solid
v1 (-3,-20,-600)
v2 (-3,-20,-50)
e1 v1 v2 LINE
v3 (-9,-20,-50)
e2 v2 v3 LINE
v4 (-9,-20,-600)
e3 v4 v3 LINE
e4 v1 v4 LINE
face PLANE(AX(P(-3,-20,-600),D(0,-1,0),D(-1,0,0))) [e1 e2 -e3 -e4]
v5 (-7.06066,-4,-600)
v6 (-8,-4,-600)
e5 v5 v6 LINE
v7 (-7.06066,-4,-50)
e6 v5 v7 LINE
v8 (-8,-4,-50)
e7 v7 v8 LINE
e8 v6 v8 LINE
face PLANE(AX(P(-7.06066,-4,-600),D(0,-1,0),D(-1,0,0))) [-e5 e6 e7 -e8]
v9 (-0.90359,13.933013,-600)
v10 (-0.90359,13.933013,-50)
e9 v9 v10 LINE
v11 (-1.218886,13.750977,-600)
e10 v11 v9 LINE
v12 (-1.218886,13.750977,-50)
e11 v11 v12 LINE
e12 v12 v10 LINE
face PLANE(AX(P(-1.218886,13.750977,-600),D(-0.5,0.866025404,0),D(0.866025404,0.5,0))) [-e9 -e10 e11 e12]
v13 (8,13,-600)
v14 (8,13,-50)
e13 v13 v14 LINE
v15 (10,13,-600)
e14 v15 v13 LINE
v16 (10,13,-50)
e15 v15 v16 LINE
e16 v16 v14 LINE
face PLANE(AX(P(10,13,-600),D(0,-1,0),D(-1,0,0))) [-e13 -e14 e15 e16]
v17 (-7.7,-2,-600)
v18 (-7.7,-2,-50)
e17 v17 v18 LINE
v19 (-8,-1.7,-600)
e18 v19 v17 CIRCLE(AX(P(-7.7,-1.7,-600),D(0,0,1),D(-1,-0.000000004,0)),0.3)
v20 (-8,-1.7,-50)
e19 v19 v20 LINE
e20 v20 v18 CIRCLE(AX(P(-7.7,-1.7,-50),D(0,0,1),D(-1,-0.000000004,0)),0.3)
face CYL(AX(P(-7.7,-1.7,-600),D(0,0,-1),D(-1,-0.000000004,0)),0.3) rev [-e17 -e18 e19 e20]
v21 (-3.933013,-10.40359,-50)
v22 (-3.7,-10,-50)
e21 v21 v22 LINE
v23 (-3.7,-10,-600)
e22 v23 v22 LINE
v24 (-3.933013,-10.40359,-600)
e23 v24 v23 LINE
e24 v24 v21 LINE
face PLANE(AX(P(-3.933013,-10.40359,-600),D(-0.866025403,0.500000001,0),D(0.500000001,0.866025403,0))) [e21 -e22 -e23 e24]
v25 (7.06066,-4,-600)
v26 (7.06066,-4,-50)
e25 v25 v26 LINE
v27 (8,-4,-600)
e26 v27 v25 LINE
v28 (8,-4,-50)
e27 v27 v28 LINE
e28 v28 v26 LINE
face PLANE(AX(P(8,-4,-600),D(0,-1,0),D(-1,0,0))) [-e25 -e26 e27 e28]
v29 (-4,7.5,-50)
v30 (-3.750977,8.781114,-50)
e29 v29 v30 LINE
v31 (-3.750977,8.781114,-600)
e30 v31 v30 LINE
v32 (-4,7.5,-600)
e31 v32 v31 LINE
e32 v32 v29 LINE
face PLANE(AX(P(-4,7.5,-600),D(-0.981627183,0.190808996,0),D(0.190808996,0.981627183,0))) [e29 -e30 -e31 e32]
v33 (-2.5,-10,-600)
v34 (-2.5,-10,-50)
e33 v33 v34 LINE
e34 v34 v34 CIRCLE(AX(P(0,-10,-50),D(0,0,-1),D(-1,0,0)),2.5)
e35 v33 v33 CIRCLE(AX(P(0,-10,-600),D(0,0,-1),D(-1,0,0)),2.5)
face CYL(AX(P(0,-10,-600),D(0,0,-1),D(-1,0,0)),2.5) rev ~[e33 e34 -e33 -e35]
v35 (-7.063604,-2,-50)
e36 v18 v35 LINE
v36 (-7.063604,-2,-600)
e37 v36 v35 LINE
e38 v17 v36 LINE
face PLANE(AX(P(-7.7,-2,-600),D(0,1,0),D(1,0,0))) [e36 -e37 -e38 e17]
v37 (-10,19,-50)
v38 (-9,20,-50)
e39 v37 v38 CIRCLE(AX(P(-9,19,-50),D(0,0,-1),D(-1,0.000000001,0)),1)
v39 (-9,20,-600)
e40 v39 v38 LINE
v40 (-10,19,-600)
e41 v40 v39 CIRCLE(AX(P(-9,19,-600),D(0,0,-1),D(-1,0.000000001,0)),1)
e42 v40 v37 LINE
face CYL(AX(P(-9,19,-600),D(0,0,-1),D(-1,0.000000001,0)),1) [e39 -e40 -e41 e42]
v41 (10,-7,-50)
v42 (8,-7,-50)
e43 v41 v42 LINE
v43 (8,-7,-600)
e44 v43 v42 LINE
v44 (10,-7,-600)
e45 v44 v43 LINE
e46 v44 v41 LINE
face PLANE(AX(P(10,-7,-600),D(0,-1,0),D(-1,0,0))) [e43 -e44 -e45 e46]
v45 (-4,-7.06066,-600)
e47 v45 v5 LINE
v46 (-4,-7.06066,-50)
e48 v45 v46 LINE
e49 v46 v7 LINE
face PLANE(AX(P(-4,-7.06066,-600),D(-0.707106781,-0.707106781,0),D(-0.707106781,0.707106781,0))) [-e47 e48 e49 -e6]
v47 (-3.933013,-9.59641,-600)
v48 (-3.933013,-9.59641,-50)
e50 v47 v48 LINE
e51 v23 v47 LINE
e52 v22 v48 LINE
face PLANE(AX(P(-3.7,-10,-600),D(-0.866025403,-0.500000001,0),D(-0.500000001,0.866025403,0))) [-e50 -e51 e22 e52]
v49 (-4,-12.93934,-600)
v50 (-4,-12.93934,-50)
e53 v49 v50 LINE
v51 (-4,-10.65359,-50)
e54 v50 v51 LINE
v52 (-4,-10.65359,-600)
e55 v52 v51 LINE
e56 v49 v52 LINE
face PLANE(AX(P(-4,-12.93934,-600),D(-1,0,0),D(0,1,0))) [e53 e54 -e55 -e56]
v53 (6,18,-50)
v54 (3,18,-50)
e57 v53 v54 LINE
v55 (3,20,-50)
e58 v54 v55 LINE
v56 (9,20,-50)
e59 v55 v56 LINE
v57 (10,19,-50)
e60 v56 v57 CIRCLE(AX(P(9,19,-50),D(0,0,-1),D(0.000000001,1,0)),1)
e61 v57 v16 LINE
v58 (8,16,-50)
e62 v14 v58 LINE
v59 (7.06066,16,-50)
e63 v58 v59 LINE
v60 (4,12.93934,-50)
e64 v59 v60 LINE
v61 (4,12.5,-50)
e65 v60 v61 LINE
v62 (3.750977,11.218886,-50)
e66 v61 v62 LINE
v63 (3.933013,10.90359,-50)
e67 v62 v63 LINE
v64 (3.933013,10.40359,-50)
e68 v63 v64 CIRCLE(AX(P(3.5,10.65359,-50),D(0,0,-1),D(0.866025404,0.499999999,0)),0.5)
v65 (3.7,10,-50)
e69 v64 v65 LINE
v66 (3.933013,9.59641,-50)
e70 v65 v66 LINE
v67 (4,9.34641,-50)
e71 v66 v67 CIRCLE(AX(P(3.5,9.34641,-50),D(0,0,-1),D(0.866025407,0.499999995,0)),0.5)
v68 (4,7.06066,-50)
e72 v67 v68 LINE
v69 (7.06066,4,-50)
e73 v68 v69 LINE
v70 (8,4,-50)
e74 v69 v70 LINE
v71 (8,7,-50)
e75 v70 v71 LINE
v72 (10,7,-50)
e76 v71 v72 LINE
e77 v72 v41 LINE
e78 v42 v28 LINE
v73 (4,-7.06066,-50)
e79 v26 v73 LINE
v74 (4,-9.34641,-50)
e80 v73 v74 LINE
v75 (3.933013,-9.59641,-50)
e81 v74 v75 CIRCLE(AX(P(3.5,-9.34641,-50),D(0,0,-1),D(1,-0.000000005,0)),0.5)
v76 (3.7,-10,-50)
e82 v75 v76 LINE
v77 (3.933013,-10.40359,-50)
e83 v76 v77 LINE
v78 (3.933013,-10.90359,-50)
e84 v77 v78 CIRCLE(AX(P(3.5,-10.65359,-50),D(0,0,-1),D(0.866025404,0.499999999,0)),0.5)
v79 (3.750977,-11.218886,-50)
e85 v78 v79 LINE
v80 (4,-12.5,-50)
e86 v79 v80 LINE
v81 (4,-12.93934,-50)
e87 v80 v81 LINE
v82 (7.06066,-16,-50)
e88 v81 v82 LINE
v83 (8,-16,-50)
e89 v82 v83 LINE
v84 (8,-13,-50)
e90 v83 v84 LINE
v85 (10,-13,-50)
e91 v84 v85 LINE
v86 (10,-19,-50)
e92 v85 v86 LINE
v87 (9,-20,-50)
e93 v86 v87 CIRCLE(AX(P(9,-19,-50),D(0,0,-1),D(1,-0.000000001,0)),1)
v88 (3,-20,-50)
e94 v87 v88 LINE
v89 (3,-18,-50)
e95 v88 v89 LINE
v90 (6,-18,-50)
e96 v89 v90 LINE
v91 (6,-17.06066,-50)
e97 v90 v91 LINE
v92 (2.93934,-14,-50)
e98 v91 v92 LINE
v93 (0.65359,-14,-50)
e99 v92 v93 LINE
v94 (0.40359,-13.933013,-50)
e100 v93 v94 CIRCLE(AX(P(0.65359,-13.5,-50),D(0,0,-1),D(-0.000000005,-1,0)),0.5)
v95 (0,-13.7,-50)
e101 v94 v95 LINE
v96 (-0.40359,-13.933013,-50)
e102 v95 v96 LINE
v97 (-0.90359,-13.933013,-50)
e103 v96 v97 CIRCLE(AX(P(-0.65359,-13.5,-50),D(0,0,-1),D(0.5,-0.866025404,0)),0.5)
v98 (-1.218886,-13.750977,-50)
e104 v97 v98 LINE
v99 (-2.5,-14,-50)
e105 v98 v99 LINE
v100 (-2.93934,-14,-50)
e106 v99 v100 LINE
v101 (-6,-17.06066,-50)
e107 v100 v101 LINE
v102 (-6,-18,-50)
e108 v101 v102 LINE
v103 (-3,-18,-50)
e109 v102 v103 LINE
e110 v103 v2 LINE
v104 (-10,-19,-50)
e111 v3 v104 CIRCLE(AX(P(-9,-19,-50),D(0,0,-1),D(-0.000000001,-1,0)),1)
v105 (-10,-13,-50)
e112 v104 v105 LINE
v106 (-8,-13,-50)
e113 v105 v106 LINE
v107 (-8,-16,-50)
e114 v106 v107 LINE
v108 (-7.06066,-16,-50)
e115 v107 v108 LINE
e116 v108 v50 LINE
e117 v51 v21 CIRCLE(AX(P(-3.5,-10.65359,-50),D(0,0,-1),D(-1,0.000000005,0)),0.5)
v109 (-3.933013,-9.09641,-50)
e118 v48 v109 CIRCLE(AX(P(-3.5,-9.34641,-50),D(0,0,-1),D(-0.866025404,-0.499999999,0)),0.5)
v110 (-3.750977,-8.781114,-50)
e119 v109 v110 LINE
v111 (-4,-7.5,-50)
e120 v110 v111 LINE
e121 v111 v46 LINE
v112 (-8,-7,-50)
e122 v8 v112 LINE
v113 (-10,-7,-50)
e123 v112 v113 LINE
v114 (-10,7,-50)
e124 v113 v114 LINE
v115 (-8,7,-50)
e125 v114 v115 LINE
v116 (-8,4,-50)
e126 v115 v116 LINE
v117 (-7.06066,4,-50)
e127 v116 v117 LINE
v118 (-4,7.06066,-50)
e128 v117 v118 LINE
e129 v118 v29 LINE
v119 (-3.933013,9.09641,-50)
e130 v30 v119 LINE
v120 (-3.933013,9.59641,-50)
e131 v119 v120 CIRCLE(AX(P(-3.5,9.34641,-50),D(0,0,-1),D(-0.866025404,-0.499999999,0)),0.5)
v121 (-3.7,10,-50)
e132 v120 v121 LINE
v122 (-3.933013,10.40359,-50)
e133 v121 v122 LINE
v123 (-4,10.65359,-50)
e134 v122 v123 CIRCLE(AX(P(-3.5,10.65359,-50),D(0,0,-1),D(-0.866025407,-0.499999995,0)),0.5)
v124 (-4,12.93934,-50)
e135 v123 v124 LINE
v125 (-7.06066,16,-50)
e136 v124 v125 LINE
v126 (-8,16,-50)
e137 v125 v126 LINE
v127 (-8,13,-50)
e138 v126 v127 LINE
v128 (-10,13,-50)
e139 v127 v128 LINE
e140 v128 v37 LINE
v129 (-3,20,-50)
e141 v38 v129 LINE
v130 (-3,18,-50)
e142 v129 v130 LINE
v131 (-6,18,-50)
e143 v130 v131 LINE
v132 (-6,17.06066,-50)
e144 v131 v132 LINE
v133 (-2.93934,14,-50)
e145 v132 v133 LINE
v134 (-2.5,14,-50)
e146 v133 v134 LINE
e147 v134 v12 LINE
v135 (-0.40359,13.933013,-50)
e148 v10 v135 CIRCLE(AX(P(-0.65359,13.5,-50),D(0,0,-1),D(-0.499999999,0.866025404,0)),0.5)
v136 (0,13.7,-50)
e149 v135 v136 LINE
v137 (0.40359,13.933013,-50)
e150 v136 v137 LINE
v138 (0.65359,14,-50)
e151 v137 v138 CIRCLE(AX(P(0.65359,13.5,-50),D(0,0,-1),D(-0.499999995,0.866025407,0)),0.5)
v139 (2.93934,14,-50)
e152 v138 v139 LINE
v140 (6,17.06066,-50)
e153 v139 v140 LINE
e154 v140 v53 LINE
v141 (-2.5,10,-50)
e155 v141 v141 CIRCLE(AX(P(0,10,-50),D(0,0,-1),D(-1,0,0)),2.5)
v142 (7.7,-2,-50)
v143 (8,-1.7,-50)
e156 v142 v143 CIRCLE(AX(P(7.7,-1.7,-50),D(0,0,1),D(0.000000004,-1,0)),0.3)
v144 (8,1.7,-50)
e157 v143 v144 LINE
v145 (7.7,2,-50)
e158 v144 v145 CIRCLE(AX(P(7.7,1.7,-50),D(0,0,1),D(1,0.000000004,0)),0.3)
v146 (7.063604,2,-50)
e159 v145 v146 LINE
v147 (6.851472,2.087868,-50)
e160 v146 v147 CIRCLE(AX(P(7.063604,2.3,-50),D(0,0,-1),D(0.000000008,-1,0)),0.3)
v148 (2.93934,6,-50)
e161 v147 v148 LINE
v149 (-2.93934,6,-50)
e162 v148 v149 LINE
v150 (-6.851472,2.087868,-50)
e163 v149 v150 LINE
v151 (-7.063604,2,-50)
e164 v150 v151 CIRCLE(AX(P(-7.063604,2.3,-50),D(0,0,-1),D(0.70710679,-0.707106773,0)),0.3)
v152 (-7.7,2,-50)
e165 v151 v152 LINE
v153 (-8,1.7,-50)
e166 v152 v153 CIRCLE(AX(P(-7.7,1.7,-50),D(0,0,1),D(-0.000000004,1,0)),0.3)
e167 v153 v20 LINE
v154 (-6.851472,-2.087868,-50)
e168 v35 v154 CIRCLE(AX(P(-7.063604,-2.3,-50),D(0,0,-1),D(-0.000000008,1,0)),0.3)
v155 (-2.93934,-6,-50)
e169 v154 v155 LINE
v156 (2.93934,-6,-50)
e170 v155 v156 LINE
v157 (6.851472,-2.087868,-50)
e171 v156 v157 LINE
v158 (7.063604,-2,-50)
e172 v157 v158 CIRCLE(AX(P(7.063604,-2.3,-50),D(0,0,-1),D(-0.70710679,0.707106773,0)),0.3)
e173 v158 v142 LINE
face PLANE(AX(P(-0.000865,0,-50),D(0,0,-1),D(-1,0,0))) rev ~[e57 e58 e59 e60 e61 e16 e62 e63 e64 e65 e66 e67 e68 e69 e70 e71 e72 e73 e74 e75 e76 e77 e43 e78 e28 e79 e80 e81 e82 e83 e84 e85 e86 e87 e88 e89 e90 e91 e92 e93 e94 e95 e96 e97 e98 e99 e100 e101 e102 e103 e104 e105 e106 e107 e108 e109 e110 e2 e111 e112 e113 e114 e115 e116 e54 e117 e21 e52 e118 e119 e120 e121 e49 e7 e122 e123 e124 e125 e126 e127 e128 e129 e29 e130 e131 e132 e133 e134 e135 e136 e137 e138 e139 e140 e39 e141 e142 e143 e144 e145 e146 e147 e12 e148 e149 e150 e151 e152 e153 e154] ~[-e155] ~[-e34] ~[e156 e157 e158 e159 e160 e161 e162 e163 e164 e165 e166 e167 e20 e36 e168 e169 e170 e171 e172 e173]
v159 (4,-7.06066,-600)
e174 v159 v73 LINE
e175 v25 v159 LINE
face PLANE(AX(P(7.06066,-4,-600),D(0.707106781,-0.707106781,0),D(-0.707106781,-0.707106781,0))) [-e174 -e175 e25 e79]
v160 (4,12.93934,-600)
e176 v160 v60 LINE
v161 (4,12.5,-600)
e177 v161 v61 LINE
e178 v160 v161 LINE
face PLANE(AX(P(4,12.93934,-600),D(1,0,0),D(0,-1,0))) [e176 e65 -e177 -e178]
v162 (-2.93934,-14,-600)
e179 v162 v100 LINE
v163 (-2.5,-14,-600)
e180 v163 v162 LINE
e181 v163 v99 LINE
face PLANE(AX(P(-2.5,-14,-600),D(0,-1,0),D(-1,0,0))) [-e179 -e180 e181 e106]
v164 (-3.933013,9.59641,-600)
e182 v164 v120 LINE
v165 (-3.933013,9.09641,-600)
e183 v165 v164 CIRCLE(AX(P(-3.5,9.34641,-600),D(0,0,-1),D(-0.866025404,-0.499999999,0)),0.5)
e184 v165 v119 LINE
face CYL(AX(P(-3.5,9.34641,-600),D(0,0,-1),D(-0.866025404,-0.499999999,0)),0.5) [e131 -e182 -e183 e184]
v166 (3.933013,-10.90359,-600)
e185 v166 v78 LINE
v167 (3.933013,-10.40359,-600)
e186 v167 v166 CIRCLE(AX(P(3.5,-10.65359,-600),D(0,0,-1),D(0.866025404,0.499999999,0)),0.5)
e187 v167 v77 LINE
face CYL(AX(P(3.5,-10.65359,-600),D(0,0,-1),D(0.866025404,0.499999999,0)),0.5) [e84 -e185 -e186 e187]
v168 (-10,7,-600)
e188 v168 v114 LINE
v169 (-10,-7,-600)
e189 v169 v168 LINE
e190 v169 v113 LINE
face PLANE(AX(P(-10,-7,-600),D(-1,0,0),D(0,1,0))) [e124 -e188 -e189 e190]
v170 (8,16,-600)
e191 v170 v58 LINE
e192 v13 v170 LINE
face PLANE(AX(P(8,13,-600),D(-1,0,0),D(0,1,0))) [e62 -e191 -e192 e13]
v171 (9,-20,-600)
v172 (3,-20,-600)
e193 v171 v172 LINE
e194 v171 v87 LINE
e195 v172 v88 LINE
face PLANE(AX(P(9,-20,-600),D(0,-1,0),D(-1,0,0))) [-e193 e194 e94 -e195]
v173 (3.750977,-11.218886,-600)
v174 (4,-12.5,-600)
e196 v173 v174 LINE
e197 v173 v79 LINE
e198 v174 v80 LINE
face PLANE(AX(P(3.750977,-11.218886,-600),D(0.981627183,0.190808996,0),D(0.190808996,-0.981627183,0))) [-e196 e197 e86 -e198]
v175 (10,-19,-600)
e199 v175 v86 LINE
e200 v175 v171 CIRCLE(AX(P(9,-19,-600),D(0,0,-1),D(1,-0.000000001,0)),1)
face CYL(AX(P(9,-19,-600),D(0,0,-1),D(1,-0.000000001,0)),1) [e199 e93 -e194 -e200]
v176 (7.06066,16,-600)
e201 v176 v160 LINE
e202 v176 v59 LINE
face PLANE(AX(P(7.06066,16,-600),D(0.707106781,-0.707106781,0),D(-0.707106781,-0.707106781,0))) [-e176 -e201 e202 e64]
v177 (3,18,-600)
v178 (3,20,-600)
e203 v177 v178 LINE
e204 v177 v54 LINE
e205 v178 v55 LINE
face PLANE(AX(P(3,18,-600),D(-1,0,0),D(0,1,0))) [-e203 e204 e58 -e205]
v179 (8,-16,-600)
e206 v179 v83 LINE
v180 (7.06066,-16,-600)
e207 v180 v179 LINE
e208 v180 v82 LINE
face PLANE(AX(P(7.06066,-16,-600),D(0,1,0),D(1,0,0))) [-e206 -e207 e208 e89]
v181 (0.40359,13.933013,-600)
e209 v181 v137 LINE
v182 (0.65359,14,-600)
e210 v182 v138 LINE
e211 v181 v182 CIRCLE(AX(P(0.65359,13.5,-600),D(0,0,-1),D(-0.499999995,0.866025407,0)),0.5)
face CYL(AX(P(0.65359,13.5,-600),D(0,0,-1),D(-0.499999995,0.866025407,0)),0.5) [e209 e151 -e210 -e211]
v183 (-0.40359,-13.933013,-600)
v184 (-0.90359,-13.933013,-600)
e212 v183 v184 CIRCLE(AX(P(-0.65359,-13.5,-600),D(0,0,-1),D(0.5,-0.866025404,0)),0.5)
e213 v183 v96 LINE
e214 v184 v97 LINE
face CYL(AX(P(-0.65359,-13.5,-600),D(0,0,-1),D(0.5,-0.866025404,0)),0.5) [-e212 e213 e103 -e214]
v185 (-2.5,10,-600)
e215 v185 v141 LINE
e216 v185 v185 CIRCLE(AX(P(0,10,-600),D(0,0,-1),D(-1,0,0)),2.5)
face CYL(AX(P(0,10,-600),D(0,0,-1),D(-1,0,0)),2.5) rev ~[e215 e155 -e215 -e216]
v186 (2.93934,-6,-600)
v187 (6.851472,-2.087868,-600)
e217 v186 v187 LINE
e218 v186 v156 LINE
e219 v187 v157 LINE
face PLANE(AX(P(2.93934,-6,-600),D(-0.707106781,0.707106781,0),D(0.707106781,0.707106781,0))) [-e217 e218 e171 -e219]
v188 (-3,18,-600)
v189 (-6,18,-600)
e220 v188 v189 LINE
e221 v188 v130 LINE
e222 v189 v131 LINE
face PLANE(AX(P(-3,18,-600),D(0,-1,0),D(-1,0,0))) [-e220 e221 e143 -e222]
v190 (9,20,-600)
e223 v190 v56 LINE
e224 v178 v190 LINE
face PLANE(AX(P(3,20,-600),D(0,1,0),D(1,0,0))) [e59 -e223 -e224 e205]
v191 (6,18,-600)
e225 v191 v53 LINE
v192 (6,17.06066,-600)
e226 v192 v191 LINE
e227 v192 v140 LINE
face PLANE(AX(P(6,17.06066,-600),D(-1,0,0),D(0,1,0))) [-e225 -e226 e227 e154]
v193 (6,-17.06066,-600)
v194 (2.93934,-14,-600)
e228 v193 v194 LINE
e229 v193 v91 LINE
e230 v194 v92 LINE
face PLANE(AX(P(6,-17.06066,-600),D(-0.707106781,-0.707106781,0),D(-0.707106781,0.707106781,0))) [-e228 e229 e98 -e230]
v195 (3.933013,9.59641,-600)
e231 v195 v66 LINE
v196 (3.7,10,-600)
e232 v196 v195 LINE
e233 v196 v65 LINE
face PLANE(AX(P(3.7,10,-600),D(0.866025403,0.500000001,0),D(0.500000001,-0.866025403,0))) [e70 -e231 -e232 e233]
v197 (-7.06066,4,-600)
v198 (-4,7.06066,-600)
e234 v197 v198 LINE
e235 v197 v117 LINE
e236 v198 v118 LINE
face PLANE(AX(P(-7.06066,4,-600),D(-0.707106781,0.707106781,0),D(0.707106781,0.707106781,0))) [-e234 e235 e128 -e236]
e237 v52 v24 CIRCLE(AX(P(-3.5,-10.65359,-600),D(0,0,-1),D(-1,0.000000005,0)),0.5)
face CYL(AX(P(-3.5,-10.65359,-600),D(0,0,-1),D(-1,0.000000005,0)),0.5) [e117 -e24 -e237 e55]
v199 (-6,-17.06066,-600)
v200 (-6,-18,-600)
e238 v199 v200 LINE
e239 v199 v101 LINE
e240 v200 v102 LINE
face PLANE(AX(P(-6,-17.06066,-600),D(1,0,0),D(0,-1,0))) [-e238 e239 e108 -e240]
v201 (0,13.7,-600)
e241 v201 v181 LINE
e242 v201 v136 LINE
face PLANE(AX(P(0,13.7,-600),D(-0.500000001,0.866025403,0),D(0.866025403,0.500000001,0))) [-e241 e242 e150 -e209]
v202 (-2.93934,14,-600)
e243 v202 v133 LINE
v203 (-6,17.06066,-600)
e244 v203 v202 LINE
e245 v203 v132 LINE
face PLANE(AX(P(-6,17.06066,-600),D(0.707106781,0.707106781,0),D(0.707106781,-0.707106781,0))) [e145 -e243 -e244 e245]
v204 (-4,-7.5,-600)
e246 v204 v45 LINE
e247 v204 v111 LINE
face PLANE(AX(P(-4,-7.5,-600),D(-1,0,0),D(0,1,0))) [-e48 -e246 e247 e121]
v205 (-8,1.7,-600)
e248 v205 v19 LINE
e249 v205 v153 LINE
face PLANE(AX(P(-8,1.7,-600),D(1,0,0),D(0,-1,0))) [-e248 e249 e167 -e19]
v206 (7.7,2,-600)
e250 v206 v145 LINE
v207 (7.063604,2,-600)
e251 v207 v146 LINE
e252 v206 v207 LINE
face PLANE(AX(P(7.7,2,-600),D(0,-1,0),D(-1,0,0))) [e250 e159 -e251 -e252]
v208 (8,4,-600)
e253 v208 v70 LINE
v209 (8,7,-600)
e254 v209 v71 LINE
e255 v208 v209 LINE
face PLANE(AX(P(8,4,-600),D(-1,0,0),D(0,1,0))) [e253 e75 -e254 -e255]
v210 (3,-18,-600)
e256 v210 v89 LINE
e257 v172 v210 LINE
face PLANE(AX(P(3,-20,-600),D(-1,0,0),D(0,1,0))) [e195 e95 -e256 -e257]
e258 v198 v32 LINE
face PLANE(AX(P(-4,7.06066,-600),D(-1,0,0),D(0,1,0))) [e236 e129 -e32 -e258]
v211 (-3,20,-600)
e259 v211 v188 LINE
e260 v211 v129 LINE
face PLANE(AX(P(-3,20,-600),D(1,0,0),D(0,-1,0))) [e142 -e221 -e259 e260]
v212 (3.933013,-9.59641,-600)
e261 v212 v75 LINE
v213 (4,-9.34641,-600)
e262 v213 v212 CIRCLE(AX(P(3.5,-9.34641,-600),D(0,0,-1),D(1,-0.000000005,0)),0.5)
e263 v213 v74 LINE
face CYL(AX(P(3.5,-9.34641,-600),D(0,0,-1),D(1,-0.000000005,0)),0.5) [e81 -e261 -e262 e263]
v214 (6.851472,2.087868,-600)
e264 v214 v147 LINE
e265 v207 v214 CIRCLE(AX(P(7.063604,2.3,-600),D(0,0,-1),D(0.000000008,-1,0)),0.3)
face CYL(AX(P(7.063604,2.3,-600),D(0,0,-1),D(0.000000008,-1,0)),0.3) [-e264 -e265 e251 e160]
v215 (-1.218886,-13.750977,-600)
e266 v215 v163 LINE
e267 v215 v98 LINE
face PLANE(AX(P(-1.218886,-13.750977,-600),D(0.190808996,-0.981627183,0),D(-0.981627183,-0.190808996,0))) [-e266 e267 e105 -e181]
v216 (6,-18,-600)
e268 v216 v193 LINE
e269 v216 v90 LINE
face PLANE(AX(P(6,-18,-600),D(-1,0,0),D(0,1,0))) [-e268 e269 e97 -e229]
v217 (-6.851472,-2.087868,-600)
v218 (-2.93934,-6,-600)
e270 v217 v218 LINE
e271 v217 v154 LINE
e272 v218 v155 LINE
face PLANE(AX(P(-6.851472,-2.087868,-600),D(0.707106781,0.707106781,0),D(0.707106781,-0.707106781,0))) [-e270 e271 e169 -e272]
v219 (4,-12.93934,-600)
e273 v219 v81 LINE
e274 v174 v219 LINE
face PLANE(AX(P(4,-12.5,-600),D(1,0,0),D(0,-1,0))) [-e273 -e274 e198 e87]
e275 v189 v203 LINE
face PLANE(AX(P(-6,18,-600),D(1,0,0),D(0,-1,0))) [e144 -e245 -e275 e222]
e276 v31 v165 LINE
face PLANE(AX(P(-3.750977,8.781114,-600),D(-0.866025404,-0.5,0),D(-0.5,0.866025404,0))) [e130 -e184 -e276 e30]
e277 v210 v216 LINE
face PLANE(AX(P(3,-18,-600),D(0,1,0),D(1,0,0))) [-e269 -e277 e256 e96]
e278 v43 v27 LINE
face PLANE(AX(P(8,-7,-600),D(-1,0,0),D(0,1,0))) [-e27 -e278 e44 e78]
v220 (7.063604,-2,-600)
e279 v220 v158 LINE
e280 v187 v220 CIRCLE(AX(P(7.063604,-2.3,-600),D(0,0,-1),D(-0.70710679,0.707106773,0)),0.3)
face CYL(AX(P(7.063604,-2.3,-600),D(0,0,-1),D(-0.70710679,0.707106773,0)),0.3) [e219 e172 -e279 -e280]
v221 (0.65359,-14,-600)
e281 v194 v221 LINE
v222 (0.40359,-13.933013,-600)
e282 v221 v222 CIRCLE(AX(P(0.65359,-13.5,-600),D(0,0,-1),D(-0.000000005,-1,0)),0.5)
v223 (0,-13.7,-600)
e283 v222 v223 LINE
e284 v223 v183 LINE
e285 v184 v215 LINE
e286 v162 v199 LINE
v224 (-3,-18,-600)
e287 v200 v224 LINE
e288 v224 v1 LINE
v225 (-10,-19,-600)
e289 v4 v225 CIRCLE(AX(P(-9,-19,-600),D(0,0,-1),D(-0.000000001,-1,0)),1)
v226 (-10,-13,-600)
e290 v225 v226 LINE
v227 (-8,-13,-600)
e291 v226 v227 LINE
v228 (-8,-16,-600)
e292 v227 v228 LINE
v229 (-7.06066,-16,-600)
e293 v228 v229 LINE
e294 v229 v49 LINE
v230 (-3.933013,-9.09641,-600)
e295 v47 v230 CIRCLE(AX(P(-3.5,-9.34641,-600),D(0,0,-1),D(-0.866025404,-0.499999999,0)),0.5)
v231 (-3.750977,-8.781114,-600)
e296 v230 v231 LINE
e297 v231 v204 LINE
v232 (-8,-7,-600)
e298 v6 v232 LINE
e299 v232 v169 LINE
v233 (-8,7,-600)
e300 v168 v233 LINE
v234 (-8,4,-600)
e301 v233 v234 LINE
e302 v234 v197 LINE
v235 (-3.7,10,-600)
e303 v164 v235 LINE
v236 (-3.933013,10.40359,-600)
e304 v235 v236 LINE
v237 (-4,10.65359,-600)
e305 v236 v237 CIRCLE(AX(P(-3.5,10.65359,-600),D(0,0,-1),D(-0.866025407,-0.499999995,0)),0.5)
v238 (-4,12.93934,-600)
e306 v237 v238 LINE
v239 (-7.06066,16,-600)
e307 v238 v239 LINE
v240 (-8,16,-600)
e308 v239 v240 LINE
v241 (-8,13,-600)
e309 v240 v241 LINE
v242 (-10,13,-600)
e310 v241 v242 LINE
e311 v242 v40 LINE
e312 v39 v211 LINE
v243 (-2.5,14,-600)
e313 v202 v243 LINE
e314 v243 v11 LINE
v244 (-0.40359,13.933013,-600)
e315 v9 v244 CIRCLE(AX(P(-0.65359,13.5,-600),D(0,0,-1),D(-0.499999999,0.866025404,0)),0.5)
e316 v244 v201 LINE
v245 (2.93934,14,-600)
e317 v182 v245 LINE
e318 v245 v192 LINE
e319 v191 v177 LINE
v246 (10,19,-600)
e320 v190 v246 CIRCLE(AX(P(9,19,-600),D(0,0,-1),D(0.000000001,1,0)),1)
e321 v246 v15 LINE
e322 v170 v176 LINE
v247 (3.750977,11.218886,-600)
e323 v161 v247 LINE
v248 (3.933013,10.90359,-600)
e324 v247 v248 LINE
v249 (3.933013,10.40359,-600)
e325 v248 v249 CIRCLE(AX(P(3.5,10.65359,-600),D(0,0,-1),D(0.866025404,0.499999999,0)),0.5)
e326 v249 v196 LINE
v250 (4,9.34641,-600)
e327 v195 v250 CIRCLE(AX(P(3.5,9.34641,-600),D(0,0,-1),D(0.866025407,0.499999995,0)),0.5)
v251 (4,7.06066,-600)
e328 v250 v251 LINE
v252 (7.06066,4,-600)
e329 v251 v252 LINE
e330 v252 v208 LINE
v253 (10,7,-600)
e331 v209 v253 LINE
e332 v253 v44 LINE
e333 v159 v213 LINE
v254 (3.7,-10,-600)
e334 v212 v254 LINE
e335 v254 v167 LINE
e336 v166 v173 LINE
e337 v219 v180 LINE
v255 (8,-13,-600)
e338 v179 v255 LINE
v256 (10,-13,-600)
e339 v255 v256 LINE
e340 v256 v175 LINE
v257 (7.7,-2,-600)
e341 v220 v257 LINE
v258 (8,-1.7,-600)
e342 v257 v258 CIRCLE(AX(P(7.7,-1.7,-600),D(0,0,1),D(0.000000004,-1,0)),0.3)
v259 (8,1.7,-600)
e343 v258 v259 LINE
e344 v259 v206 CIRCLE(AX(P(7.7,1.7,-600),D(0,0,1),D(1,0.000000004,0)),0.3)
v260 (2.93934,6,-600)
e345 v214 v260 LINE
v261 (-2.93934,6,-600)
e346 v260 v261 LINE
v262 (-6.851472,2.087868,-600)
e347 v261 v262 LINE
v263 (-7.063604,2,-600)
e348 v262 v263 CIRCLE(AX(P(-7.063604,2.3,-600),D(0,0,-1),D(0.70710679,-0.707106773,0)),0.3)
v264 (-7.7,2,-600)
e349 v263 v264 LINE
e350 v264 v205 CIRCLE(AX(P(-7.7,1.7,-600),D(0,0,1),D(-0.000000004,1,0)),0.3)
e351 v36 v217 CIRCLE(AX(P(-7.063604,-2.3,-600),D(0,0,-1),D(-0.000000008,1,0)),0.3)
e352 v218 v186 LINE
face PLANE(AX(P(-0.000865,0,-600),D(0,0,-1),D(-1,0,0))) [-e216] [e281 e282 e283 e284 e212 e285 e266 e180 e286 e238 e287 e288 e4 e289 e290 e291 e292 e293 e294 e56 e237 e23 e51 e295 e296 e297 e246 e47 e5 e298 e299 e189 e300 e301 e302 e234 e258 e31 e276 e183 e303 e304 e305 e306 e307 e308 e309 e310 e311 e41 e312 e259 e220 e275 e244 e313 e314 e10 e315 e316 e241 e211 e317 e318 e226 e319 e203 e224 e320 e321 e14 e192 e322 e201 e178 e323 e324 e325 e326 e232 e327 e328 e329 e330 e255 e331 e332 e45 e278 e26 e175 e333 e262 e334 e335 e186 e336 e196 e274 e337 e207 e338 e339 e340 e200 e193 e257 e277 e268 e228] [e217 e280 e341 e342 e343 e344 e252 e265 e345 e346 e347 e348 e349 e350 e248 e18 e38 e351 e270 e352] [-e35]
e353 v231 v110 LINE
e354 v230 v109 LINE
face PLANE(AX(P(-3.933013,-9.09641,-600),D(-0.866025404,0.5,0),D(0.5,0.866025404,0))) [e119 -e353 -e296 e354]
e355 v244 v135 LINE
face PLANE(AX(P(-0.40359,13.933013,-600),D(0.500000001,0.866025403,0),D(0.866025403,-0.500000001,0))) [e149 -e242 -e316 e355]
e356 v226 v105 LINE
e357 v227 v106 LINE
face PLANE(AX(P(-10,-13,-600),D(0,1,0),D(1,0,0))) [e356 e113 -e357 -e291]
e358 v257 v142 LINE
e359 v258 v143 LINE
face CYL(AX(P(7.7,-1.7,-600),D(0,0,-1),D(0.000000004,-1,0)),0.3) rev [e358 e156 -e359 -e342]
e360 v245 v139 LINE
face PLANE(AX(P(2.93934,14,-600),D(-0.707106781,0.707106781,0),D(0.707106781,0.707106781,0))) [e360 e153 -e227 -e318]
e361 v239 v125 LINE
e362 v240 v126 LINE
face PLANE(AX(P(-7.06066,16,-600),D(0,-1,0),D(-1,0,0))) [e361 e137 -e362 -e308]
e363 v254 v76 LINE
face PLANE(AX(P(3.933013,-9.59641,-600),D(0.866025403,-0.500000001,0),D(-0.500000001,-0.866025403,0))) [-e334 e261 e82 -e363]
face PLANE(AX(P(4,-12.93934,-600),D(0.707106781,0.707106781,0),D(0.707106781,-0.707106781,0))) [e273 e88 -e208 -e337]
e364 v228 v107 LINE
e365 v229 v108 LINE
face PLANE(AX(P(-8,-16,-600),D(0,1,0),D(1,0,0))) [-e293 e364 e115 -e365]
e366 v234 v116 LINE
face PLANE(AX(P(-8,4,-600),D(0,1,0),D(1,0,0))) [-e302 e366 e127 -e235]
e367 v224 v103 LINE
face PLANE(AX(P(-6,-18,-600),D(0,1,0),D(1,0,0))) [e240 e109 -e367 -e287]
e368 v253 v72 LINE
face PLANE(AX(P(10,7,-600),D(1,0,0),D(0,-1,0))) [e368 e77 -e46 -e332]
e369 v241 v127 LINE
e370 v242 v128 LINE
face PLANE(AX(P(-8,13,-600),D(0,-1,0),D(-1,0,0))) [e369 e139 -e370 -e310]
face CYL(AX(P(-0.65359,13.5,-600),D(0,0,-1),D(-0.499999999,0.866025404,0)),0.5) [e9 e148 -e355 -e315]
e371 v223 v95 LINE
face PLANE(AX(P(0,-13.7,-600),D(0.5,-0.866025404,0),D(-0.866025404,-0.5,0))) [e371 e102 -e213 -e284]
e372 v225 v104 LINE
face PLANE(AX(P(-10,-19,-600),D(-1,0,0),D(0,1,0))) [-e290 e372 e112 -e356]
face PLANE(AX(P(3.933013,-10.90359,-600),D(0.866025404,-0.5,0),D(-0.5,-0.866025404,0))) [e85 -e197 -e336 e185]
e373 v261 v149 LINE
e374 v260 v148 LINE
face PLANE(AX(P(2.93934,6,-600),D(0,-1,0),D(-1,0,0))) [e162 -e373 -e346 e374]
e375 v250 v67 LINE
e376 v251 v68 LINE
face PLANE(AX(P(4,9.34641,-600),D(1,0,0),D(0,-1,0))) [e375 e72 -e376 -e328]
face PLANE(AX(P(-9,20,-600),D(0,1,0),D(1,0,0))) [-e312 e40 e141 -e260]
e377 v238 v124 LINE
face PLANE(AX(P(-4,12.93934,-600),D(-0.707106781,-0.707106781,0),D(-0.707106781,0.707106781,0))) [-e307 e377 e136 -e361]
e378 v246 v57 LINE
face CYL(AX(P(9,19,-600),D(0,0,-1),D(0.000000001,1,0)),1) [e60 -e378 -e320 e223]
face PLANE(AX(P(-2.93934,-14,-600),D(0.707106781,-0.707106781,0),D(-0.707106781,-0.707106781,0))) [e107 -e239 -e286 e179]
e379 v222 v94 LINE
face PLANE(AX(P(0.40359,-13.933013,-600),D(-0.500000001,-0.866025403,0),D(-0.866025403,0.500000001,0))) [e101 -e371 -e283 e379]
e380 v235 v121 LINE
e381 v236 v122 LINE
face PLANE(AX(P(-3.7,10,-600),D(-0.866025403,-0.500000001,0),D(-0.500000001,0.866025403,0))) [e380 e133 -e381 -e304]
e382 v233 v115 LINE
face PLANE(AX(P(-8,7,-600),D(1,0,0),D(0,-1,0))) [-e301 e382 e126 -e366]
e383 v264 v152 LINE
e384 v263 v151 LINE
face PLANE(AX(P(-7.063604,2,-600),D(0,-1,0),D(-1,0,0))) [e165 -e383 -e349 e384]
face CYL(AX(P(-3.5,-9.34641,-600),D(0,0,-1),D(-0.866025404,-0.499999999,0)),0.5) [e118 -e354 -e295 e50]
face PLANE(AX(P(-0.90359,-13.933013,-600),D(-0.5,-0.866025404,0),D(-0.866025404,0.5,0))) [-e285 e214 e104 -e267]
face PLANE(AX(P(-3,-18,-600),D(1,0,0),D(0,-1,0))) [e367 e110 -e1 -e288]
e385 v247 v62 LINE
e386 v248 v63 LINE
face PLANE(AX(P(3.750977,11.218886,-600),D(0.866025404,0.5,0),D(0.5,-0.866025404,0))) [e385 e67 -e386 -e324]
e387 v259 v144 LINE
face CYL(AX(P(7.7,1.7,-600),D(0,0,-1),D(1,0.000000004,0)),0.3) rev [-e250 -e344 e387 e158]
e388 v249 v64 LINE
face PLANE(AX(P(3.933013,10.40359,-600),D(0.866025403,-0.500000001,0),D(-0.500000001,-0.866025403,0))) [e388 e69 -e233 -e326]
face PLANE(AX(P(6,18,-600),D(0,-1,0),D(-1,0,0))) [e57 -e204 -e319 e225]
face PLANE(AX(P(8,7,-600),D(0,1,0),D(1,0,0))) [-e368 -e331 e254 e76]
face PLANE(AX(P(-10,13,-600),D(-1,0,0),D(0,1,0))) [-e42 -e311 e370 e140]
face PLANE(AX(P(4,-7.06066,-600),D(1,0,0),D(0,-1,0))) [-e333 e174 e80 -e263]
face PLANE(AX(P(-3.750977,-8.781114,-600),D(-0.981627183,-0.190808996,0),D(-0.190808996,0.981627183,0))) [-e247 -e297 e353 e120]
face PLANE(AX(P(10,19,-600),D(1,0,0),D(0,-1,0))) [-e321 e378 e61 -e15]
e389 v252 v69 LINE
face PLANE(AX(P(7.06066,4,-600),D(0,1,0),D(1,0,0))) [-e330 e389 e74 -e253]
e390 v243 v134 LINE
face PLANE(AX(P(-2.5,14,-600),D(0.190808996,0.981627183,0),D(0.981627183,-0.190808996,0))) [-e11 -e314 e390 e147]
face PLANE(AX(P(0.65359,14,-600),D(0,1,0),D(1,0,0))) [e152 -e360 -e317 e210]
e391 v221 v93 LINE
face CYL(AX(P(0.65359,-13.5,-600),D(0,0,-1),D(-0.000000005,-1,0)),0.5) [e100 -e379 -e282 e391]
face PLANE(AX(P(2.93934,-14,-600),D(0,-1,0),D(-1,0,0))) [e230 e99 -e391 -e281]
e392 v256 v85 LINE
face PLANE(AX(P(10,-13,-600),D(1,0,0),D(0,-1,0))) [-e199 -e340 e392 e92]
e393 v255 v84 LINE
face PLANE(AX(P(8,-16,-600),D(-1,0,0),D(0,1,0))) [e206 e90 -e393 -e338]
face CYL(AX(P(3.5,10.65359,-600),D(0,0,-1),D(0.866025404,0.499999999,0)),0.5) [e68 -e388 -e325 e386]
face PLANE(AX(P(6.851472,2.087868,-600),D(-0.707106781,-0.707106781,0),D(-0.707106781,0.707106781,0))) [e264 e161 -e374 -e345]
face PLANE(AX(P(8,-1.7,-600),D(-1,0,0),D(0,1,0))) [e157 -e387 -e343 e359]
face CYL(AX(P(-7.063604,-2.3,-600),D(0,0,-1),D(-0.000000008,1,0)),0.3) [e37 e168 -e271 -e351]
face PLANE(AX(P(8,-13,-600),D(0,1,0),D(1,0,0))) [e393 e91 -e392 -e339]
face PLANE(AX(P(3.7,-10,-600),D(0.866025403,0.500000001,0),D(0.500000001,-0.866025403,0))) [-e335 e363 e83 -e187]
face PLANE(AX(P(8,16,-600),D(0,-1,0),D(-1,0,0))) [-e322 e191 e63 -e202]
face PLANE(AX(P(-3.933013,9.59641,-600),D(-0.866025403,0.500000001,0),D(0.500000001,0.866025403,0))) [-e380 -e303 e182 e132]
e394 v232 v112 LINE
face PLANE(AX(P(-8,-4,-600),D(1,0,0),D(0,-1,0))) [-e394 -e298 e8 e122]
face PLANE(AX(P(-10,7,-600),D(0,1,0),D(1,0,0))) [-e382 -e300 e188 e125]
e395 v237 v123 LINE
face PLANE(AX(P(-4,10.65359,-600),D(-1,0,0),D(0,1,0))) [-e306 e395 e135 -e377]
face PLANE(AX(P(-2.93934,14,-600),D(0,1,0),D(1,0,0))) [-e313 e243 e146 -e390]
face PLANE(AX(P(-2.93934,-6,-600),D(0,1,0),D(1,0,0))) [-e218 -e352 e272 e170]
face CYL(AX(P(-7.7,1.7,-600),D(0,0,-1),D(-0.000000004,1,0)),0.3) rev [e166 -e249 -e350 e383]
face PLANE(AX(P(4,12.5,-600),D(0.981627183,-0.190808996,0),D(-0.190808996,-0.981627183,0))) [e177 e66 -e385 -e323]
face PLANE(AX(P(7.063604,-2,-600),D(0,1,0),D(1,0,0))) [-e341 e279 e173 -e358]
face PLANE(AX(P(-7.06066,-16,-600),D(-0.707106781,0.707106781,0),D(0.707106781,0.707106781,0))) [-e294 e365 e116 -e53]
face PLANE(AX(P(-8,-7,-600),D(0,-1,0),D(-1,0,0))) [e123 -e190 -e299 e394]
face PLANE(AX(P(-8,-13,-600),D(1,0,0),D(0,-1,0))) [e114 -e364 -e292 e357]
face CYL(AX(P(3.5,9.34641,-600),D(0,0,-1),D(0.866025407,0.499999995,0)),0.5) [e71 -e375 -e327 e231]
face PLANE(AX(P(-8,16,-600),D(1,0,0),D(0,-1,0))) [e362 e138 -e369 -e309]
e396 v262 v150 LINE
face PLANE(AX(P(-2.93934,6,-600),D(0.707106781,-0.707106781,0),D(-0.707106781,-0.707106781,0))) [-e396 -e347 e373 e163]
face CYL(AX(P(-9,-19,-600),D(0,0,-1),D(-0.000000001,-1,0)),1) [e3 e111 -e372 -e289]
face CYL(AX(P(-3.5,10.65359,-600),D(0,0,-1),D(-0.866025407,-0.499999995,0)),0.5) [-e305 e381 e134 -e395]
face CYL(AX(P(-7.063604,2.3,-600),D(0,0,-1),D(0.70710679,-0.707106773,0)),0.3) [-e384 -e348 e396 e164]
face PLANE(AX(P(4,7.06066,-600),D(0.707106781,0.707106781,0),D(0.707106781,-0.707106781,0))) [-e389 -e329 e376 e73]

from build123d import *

# Parameters (mm, degrees)
SKETCH1_R           = 2.5
BOSS_EXTRUDE1_DEPTH = 550


with BuildPart() as part:
    # Sketch1 → Boss-Extrude1 (new body)
    with BuildSketch(Plane(origin=(0, 0, -600), x_dir=(-1, 0, 0), z_dir=(0, 0, -1))):
        with BuildLine():
            Line((10, -7), (10, 7))
            Line((10, 7), (8, 7))
            Line((8, 7), (8, 4))
            Line((8, 4), (7.060660172, 4))
            Line((7.060660172, 4), (4, 7.060660172))
            Line((4, 7.060660172), (4, 7.5))
            Line((4, 7.5), (3.750976592, 8.781114371))
            Line((3.750976592, 8.781114371), (3.933012702, 9.096410162))
            ThreePointArc((3.933012702, 9.096410162), (4, 9.346410162), (3.933012702, 9.596410162))
            Line((3.933012702, 9.596410162), (3.7, 10))
            Line((3.7, 10), (3.933012702, 10.403589838))
            ThreePointArc((3.933012702, 10.403589838), (3.982962913, 10.524180316), (4, 10.653589838))
            Line((4, 10.653589838), (4, 12.939339828))
            Line((4, 12.939339828), (7.060660172, 16))
            Line((7.060660172, 16), (8, 16))
            Line((8, 16), (8, 13))
            Line((8, 13), (10, 13))
            Line((10, 13), (10, 19))
            ThreePointArc((10, 19), (9.707106781, 19.707106781), (9, 20))
            Line((9, 20), (3, 20))
            Line((3, 20), (3, 18))
            Line((3, 18), (6, 18))
            Line((6, 18), (6, 17.060660172))
            Line((6, 17.060660172), (2.939339828, 14))
            Line((2.939339828, 14), (2.5, 14))
            Line((2.5, 14), (1.218885629, 13.750976592))
            Line((1.218885629, 13.750976592), (0.903589838, 13.933012702))
            ThreePointArc((0.903589838, 13.933012702), (0.653589838, 14), (0.403589838, 13.933012702))
            Line((0.403589838, 13.933012702), (0, 13.7))
            Line((0, 13.7), (-0.403589838, 13.933012702))
            ThreePointArc((-0.403589838, 13.933012702), (-0.524180316, 13.982962913), (-0.653589838, 14))
            Line((-0.653589838, 14), (-2.939339828, 14))
            Line((-2.939339828, 14), (-6, 17.060660172))
            Line((-6, 17.060660172), (-6, 18))
            Line((-6, 18), (-3, 18))
            Line((-3, 18), (-3, 20))
            Line((-3, 20), (-9, 20))
            ThreePointArc((-9, 20), (-9.707106781, 19.707106781), (-10, 19))
            Line((-10, 19), (-10, 13))
            Line((-10, 13), (-8, 13))
            Line((-8, 13), (-8, 16))
            Line((-8, 16), (-7.060660172, 16))
            Line((-7.060660172, 16), (-4, 12.939339828))
            Line((-4, 12.939339828), (-4, 12.5))
            Line((-4, 12.5), (-3.750976592, 11.218885629))
            Line((-3.750976592, 11.218885629), (-3.933012702, 10.903589838))
            ThreePointArc((-3.933012702, 10.903589838), (-4, 10.653589838), (-3.933012702, 10.403589838))
            Line((-3.933012702, 10.403589838), (-3.7, 10))
            Line((-3.7, 10), (-3.933012702, 9.596410162))
            ThreePointArc((-3.933012702, 9.596410162), (-3.982962913, 9.475819684), (-4, 9.346410162))
            Line((-4, 9.346410162), (-4, 7.060660172))
            Line((-4, 7.060660172), (-7.060660172, 4))
            Line((-7.060660172, 4), (-8, 4))
            Line((-8, 4), (-8, 7))
            Line((-8, 7), (-10, 7))
            Line((-10, 7), (-10, -7))
            Line((-10, -7), (-8, -7))
            Line((-8, -7), (-8, -4))
            Line((-8, -4), (-7.060660172, -4))
            Line((-7.060660172, -4), (-4, -7.060660172))
            Line((-4, -7.060660172), (-4, -9.346410162))
            ThreePointArc((-4, -9.346410162), (-3.982962913, -9.475819684), (-3.933012702, -9.596410162))
            Line((-3.933012702, -9.596410162), (-3.7, -10))
            Line((-3.7, -10), (-3.933012702, -10.403589838))
            ThreePointArc((-3.933012702, -10.403589838), (-4, -10.653589838), (-3.933012702, -10.903589838))
            Line((-3.933012702, -10.903589838), (-3.750976592, -11.218885629))
            Line((-3.750976592, -11.218885629), (-4, -12.5))
            Line((-4, -12.5), (-4, -12.939339828))
            Line((-4, -12.939339828), (-7.060660172, -16))
            Line((-7.060660172, -16), (-8, -16))
            Line((-8, -16), (-8, -13))
            Line((-8, -13), (-10, -13))
            Line((-10, -13), (-10, -19))
            ThreePointArc((-10, -19), (-9.707106781, -19.707106781), (-9, -20))
            Line((-9, -20), (-3, -20))
            Line((-3, -20), (-3, -18))
            Line((-3, -18), (-6, -18))
            Line((-6, -18), (-6, -17.060660172))
            Line((-6, -17.060660172), (-2.939339828, -14))
            Line((-2.939339828, -14), (-0.653589838, -14))
            ThreePointArc((-0.653589838, -14), (-0.524180316, -13.982962913), (-0.403589838, -13.933012702))
            Line((-0.403589838, -13.933012702), (0, -13.7))
            Line((0, -13.7), (0.403589839, -13.933012702))
            ThreePointArc((0.403589839, -13.933012702), (0.653589839, -14), (0.903589838, -13.933012702))
            Line((0.903589838, -13.933012702), (1.218885629, -13.750976592))
            Line((1.218885629, -13.750976592), (2.5, -14))
            Line((2.5, -14), (2.939339828, -14))
            Line((2.939339828, -14), (6, -17.060660172))
            Line((6, -17.060660172), (6, -18))
            Line((6, -18), (3, -18))
            Line((3, -18), (3, -20))
            Line((3, -20), (9, -20))
            ThreePointArc((9, -20), (9.707106781, -19.707106781), (10, -19))
            Line((10, -19), (10, -13))
            Line((10, -13), (8, -13))
            Line((8, -13), (8, -16))
            Line((8, -16), (7.060660172, -16))
            Line((7.060660172, -16), (4, -12.939339828))
            Line((4, -12.939339828), (4, -10.653589838))
            ThreePointArc((4, -10.653589838), (3.982962913, -10.524180316), (3.933012702, -10.403589838))
            Line((3.933012702, -10.403589838), (3.7, -10))
            Line((3.7, -10), (3.933012702, -9.596410162))
            ThreePointArc((3.933012702, -9.596410162), (4, -9.346410162), (3.933012702, -9.096410162))
            Line((3.933012702, -9.096410162), (3.750976592, -8.781114371))
            Line((3.750976592, -8.781114371), (4, -7.5))
            Line((4, -7.5), (4, -7.060660172))
            Line((4, -7.060660172), (7.060660172, -4))
            Line((7.060660172, -4), (8, -4))
            Line((8, -4), (8, -7))
            Line((8, -7), (10, -7))
        make_face()
        with Locations((0, -10)):
            Circle(SKETCH1_R, mode=Mode.SUBTRACT)
        with Locations((0, 10)):
            Circle(SKETCH1_R, mode=Mode.SUBTRACT)
        with BuildLine():
            Line((8, 1.7), (8, -1.7))
            ThreePointArc((8, -1.7), (7.912132034, -1.912132034), (7.7, -2))
            Line((7.7, -2), (7.063603897, -2))
            ThreePointArc((7.063603897, -2), (6.948798867, -2.02283614), (6.851471863, -2.087867966))
            Line((6.851471863, -2.087867966), (2.939339828, -6))
            Line((2.939339828, -6), (-2.939339828, -6))
            Line((-2.939339828, -6), (-6.851471863, -2.087867966))
            ThreePointArc((-6.851471863, -2.087867966), (-6.948798867, -2.02283614), (-7.063603897, -2))
            Line((-7.063603897, -2), (-7.7, -2))
            ThreePointArc((-7.7, -2), (-7.912132034, -1.912132034), (-8, -1.7))
            Line((-8, -1.7), (-8, 1.7))
            ThreePointArc((-8, 1.7), (-7.912132034, 1.912132034), (-7.7, 2))
            Line((-7.7, 2), (-7.063603897, 2))
            ThreePointArc((-7.063603897, 2), (-6.948798867, 2.02283614), (-6.851471863, 2.087867966))
            Line((-6.851471863, 2.087867966), (-2.939339828, 6))
            Line((-2.939339828, 6), (2.939339828, 6))
            Line((2.939339828, 6), (6.851471863, 2.087867966))
            ThreePointArc((6.851471863, 2.087867966), (6.948798867, 2.02283614), (7.063603897, 2))
            Line((7.063603897, 2), (7.7, 2))
            ThreePointArc((7.7, 2), (7.912132034, 1.912132034), (8, 1.7))
        make_face(mode=Mode.SUBTRACT)
    extrude(amount=-BOSS_EXTRUDE1_DEPTH)


solid = part.part
